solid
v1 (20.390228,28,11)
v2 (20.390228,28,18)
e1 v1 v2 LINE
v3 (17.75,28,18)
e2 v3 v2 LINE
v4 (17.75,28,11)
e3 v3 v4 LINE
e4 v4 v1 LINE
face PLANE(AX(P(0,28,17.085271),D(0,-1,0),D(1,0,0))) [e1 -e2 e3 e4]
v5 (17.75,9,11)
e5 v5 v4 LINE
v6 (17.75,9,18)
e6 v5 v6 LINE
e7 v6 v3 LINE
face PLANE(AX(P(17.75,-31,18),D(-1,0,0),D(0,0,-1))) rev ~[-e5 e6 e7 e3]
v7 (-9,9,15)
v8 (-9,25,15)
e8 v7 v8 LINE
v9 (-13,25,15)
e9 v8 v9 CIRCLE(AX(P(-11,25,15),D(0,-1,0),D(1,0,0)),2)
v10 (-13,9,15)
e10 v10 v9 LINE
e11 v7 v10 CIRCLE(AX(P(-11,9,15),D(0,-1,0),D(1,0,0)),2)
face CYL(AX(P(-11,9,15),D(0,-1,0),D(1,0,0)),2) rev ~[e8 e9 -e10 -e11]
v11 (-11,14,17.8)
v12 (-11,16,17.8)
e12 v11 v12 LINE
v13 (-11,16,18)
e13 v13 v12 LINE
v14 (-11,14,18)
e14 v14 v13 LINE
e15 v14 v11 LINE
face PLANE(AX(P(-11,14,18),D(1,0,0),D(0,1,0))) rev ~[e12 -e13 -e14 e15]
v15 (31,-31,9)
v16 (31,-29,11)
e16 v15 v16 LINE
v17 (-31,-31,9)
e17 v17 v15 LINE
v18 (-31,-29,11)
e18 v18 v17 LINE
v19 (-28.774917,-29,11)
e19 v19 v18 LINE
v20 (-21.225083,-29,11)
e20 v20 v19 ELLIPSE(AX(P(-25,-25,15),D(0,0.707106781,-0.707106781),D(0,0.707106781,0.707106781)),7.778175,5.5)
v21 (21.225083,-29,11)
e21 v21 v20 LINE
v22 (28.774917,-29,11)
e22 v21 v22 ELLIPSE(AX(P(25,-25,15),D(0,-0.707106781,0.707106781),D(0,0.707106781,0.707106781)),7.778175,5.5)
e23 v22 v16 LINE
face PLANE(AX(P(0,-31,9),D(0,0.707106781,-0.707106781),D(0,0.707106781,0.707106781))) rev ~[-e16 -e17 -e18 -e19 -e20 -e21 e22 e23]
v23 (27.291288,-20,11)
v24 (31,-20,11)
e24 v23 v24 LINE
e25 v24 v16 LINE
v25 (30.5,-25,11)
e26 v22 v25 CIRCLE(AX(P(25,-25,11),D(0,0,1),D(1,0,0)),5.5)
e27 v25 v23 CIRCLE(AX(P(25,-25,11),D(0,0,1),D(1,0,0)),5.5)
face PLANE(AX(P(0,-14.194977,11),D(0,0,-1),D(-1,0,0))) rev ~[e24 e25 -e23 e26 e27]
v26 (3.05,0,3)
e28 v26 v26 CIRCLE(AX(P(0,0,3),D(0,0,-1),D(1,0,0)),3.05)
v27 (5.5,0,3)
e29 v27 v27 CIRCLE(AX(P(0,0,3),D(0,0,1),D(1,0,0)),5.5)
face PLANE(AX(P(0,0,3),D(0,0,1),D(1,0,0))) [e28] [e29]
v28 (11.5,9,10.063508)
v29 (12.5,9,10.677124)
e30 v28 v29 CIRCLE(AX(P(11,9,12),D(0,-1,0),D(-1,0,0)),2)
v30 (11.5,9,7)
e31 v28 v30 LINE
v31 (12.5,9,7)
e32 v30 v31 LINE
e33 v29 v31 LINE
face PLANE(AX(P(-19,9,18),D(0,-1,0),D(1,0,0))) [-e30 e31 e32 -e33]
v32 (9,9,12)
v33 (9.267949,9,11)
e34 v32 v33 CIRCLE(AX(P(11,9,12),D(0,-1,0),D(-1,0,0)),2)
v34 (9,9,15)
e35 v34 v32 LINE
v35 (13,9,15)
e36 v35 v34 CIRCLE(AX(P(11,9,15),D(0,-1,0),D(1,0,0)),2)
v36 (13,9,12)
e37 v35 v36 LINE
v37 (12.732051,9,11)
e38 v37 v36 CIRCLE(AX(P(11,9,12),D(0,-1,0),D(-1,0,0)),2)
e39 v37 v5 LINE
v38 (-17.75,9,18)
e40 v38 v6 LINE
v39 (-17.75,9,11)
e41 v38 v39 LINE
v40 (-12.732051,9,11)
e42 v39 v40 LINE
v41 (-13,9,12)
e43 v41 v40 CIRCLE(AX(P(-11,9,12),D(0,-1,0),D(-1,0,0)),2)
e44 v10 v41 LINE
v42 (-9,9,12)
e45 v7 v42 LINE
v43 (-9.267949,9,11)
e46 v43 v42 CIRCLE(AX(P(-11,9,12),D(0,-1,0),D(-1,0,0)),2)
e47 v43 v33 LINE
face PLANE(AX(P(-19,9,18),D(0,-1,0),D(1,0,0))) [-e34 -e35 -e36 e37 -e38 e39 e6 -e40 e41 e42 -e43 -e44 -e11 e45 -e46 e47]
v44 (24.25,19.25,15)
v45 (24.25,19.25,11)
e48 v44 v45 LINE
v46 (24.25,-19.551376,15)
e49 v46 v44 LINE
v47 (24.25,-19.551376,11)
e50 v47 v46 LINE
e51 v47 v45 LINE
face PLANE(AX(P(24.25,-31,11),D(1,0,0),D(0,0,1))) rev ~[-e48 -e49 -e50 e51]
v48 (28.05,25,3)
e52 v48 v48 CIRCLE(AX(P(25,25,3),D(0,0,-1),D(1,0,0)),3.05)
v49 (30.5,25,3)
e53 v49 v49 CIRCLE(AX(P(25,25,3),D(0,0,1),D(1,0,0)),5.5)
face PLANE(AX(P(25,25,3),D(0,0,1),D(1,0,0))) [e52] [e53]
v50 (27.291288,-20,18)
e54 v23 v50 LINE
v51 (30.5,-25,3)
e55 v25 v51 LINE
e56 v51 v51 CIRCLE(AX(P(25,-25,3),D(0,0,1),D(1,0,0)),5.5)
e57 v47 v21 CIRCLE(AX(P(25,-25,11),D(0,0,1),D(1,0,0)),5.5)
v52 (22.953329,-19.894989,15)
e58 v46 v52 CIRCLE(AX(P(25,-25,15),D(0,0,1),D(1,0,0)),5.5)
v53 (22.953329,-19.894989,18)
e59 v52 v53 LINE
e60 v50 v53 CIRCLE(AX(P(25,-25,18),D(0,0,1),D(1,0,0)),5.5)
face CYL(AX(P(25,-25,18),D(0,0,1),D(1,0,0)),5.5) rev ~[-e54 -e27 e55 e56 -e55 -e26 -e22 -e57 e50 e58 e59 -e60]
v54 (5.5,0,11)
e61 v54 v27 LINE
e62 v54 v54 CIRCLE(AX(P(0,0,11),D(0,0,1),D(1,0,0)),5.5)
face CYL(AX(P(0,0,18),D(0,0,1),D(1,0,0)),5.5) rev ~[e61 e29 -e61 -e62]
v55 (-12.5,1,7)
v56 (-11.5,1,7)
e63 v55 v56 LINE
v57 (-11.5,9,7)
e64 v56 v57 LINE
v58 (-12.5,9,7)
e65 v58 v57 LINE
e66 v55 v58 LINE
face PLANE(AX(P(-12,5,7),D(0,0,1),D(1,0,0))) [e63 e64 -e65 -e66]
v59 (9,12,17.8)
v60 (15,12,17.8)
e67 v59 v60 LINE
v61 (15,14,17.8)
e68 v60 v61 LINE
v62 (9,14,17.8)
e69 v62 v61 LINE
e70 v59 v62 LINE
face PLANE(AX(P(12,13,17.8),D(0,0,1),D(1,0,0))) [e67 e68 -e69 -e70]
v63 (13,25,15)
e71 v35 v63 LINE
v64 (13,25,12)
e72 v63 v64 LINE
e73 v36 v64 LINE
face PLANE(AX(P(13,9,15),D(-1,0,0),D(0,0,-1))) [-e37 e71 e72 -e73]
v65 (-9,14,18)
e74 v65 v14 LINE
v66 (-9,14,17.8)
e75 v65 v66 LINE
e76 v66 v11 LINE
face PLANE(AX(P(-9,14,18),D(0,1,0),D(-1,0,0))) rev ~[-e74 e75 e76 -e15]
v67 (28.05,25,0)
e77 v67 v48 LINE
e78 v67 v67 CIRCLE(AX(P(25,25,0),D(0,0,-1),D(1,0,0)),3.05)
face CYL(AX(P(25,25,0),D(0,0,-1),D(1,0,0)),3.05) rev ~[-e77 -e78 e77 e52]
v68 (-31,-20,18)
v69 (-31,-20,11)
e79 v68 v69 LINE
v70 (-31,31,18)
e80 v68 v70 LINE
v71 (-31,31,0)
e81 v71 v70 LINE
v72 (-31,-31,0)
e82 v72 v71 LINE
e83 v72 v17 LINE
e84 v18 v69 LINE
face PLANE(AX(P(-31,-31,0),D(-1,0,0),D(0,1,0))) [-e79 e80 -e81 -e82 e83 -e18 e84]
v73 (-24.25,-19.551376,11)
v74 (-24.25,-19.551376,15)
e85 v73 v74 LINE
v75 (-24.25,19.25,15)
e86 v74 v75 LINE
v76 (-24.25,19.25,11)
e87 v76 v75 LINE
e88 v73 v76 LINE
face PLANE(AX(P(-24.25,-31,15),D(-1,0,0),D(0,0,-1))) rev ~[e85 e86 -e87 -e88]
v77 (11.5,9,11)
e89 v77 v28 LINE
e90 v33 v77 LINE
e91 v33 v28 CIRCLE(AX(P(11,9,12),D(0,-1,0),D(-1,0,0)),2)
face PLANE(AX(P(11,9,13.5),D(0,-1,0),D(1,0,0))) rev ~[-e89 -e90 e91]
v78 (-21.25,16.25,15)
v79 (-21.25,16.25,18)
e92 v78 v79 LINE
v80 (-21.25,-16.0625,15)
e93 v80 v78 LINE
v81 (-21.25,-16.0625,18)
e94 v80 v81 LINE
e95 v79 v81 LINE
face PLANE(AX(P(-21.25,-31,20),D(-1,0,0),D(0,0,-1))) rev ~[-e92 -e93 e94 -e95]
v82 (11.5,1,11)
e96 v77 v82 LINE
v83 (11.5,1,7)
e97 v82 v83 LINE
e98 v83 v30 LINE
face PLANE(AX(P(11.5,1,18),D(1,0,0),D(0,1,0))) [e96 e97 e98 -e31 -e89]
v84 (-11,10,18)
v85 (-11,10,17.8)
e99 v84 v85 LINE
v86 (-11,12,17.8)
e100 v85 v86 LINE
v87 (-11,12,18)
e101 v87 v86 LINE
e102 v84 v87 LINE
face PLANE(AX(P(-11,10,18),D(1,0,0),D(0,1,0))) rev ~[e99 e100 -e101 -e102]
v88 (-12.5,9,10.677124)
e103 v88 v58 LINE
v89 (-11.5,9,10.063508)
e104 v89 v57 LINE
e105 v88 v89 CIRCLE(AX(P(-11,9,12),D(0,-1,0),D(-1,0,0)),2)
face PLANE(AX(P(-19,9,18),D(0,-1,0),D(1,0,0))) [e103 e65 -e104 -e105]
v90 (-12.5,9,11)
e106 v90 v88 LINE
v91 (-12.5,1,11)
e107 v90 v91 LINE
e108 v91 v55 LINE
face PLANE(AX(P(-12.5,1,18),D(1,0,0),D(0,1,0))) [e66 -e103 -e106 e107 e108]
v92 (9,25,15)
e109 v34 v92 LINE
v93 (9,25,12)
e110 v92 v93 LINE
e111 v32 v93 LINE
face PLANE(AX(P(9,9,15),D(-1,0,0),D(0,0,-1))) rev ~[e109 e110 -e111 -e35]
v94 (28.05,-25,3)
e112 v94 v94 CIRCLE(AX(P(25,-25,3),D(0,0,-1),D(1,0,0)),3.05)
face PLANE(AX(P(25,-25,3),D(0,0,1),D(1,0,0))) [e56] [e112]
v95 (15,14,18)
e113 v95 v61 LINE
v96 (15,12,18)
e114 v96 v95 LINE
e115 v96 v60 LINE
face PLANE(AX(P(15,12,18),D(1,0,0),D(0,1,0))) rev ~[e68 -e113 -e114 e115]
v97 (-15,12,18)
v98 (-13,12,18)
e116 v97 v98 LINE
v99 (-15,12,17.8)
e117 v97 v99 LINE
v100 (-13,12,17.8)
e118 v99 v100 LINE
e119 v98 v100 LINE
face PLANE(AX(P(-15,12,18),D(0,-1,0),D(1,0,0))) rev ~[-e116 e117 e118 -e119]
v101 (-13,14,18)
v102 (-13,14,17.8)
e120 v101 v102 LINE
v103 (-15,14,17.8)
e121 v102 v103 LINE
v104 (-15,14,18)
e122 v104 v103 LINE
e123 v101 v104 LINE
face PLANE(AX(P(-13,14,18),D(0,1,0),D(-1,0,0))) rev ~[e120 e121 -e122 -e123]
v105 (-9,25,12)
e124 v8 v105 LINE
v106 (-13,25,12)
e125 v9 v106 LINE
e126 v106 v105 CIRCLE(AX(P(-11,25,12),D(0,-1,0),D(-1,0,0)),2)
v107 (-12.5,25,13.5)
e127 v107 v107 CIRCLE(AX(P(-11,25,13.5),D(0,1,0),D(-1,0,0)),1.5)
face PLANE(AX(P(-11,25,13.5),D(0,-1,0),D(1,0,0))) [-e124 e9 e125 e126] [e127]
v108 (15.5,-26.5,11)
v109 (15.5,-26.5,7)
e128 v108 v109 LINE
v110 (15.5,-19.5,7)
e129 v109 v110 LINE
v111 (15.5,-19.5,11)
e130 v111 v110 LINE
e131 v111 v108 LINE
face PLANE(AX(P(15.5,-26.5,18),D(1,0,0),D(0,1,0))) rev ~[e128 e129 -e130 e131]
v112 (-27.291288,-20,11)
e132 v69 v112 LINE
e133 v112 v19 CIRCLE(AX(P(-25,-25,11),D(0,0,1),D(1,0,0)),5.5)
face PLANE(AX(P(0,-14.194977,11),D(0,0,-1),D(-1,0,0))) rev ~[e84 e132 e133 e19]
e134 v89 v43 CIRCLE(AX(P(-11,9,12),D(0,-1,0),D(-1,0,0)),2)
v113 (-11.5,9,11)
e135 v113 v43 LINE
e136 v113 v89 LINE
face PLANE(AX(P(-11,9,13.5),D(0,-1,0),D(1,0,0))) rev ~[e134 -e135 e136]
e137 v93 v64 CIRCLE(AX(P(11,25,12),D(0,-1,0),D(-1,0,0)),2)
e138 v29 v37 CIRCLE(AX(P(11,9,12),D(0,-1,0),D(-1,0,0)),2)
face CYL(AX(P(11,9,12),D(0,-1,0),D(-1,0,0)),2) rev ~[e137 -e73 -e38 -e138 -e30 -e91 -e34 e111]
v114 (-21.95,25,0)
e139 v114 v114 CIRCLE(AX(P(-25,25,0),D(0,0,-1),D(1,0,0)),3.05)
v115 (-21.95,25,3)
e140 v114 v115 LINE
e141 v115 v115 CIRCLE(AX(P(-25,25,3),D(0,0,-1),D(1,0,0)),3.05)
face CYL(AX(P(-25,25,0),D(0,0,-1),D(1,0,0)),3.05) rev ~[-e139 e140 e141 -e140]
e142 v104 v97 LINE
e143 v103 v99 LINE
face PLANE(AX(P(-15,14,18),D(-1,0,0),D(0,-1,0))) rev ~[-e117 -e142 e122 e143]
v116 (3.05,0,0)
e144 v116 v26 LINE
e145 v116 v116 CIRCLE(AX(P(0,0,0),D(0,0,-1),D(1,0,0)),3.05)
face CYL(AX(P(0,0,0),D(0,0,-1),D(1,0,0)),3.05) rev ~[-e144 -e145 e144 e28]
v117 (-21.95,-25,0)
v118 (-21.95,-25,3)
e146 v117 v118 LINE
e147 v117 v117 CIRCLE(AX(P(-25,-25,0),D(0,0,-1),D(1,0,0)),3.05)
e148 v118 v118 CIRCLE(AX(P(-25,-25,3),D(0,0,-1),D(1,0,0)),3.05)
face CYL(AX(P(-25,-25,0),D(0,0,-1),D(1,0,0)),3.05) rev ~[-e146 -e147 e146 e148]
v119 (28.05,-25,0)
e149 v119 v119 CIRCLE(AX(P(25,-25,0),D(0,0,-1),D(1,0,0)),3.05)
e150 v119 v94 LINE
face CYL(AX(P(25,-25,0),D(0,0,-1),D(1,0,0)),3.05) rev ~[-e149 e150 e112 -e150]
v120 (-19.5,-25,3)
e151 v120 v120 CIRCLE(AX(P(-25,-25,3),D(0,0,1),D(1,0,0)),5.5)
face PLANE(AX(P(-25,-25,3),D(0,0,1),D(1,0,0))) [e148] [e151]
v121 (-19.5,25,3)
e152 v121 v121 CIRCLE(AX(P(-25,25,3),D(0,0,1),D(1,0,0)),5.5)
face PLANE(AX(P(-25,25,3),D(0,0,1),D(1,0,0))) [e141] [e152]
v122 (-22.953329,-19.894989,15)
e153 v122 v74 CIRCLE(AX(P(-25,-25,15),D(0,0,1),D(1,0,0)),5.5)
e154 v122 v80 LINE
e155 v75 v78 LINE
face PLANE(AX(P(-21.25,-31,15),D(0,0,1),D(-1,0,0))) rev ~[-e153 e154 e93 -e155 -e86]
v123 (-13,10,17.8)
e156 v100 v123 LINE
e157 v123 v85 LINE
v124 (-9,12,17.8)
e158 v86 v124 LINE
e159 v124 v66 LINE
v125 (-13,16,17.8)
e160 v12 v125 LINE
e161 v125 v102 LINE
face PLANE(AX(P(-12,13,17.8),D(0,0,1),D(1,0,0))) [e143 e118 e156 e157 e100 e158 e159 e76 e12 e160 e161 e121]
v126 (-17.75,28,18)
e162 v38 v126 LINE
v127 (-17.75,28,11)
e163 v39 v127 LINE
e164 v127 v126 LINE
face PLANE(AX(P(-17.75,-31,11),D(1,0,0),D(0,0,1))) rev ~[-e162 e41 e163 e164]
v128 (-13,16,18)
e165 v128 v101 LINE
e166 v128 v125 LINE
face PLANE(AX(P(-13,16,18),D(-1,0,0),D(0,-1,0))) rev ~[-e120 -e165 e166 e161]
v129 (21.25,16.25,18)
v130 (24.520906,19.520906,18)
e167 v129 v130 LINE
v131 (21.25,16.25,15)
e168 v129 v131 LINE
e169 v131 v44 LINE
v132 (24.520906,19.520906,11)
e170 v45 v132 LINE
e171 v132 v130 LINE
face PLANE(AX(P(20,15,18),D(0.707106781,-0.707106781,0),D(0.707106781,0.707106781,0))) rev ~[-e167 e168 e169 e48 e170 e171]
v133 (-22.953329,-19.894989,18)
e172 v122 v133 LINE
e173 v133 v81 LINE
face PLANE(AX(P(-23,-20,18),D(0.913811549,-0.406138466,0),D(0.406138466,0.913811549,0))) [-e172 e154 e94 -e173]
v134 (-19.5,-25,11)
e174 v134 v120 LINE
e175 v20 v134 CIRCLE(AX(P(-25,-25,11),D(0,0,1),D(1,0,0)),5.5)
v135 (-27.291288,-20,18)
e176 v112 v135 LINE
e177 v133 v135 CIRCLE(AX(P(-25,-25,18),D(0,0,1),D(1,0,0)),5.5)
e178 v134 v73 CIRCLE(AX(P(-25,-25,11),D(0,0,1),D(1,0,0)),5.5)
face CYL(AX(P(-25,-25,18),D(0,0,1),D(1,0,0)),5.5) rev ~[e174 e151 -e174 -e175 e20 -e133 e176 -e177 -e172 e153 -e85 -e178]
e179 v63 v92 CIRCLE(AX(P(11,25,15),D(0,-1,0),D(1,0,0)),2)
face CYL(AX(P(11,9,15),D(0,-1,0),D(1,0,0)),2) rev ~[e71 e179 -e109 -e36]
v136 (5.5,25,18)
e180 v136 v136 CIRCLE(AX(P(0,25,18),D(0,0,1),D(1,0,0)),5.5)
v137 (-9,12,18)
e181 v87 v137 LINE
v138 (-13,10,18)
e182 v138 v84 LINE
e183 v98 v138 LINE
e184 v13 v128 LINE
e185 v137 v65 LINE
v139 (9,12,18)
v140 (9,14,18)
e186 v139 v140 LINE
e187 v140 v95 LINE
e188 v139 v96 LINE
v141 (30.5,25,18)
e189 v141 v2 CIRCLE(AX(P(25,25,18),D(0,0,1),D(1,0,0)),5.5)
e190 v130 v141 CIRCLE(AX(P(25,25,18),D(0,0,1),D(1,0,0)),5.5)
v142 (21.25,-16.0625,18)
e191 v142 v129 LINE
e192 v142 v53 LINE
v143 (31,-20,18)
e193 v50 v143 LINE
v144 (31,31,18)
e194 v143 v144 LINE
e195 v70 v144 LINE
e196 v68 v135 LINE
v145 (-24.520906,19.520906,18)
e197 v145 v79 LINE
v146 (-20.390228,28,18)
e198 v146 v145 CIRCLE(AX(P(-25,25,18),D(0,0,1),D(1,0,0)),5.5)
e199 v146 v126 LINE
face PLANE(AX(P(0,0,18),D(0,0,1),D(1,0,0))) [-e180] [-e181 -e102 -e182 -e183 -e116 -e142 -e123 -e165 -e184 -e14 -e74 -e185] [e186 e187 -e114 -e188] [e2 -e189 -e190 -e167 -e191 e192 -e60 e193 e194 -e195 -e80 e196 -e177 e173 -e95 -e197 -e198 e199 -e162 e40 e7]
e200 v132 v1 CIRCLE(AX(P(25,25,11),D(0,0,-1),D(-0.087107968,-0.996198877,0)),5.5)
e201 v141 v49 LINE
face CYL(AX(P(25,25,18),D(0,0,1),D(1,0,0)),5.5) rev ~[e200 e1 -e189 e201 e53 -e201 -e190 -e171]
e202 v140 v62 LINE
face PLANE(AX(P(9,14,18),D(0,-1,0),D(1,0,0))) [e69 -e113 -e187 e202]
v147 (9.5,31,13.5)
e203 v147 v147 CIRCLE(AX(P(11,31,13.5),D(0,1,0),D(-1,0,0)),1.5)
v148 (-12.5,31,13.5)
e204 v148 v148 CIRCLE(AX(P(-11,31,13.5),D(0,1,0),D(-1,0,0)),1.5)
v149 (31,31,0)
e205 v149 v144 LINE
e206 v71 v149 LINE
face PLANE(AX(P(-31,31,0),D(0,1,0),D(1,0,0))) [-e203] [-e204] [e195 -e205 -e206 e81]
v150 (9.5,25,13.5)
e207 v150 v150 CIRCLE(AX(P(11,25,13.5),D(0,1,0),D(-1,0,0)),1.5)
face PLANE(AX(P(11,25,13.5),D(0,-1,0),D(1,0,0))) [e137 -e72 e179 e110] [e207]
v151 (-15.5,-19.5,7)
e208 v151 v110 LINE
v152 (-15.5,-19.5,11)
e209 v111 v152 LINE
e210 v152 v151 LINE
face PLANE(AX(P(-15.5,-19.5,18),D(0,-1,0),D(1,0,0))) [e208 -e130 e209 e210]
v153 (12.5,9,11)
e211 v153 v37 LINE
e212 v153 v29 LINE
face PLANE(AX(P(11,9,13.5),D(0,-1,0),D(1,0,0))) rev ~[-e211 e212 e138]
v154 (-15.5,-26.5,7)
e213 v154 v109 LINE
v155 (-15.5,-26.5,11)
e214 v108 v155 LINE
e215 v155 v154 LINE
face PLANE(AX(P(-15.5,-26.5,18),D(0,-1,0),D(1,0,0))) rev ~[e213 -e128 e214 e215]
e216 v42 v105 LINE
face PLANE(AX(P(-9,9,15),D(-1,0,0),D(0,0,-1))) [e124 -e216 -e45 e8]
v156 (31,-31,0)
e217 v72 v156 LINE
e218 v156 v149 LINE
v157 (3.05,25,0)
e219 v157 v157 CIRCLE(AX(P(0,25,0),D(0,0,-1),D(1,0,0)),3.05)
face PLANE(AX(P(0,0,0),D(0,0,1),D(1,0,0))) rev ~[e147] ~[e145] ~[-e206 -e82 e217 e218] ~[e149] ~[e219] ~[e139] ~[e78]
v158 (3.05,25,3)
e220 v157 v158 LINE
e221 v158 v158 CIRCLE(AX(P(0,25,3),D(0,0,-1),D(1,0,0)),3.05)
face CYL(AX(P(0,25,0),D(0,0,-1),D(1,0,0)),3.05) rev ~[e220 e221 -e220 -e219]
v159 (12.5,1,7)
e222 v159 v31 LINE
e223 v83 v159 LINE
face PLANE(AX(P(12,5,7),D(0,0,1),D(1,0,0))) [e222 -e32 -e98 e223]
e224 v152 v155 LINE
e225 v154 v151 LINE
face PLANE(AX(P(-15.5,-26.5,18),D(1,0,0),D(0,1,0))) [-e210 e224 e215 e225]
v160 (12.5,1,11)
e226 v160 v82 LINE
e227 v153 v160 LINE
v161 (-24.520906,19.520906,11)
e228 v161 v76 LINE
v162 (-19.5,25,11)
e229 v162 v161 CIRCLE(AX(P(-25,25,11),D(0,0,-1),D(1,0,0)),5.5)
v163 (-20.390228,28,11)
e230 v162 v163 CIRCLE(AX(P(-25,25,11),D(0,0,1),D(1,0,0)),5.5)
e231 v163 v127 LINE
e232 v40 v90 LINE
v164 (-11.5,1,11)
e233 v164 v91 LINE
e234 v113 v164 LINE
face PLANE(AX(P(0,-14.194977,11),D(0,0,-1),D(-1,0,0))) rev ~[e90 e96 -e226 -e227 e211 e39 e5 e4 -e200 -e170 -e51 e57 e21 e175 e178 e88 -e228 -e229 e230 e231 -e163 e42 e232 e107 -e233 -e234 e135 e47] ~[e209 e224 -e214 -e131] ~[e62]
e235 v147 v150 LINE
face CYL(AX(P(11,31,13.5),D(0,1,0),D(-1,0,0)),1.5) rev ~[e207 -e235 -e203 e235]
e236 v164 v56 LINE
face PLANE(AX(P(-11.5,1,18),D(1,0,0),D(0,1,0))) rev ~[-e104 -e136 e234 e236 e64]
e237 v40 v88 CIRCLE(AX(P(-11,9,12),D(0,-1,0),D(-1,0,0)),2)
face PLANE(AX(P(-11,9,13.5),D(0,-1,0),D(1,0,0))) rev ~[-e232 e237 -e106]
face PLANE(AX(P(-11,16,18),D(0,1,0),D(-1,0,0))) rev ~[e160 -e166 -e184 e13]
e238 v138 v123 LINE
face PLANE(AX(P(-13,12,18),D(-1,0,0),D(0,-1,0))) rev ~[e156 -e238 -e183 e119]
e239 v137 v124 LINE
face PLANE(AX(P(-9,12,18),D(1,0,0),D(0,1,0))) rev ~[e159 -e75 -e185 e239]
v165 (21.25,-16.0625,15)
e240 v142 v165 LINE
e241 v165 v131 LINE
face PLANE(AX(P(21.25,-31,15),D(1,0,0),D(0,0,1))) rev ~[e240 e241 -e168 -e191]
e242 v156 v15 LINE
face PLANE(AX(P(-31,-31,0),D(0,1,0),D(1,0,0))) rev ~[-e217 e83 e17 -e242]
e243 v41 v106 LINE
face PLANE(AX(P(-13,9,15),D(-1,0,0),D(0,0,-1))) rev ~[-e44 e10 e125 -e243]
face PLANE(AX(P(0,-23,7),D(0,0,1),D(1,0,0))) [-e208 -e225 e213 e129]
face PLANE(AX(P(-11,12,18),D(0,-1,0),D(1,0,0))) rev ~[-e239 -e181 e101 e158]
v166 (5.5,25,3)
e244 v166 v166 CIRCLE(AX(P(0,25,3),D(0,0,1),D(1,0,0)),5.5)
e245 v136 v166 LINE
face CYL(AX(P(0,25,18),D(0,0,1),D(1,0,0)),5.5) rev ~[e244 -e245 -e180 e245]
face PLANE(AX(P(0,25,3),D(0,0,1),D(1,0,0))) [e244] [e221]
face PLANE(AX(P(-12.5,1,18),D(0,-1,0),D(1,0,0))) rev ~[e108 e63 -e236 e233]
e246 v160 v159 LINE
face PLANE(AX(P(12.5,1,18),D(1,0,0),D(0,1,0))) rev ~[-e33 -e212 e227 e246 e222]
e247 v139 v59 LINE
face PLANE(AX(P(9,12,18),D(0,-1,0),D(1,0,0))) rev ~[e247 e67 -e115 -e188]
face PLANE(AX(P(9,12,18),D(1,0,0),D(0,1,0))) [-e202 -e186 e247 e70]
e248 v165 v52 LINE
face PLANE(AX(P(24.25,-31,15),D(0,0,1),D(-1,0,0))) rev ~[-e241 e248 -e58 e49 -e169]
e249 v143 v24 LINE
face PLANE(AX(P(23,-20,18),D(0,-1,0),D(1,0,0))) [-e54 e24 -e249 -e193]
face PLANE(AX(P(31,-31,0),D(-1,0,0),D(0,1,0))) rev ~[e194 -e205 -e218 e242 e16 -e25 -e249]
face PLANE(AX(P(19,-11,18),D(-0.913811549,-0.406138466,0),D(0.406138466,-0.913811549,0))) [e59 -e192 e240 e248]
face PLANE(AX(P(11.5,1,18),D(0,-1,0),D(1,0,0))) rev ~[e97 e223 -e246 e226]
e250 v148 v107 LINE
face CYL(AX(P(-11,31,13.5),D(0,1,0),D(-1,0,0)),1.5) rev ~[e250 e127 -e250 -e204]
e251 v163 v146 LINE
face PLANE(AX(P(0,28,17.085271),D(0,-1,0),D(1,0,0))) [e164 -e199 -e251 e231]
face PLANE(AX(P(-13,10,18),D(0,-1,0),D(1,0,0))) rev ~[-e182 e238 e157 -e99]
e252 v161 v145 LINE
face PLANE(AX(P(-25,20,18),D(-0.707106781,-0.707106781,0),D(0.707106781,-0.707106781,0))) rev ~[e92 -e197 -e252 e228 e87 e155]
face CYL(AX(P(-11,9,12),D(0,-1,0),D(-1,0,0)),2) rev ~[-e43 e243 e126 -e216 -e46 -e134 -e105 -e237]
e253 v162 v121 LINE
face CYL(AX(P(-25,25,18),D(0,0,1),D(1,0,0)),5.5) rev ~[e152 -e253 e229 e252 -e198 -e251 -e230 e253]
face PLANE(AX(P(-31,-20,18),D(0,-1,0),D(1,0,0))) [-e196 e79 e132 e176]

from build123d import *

# Parameters (mm, degrees)
SKETCH072_W          = 62
SKETCH072_H          = 62
PAD012_DEPTH         = 18
SKETCH073_R          = 3.05
POCKET058_DEPTH      = 18.001
POCKET059_DEPTH      = 59
POCKET060_DEPTH      = 7
SKETCH077_R          = 1.5
POCKET062_DEPTH      = 22
SKETCH078_R          = 5.5
POCKET063_DEPTH      = 15
SKETCH076_W          = 31
SKETCH076_H          = 7
SKETCH076_W_2        = 1
SKETCH076_H_2        = 8
POCKET065_DEPTH      = 11
POCKET_DEPTH         = 7
POCKET068_DEPTH      = 31.001
POCKET068_DEPTH_BACK = -31.001
POCKET069_DEPTH      = 16
SKETCH_W             = 6
SKETCH_H             = 2
POCKET070_DEPTH      = 0.2


with BuildPart() as part:
    # Sketch072 → Pad012 (new body)
    with BuildSketch(Plane.XY):
        Rectangle(SKETCH072_W, SKETCH072_H)
    extrude(amount=PAD012_DEPTH)

    # Sketch073 (on Face5 of Pad012) → Pocket058 (cut, through all)
    with BuildSketch(Plane(origin=(0, 0, 0), x_dir=(1, 0, 0), z_dir=(0, 0, -1))):
        with Locations((-25, 25)):
            Circle(SKETCH073_R)
        with Locations((25, 25)):
            Circle(SKETCH073_R)
        with Locations((-25, -25)):
            Circle(SKETCH073_R)
        with Locations((25, -25)):
            Circle(SKETCH073_R)
        Circle(SKETCH073_R)
        with Locations((0, -25)):
            Circle(SKETCH073_R)
    extrude(amount=-POCKET058_DEPTH, mode=Mode.SUBTRACT)

    # Sketch074 (on Face2 of Pocket058) → Pocket059 (cut)
    with BuildSketch(Plane.XZ.offset(31)):
        Polygon((-21.25, 20), (-21.25, 15), (-24.25, 15), (-24.25, 11), (-17.75, 11), (-17.75, 18), (17.75, 18), (17.75, 11), (24.25, 11), (24.25, 15), (21.25, 15), (21.25, 20), align=None)
    extrude(amount=-POCKET059_DEPTH, mode=Mode.SUBTRACT)

    # Sketch075 (on Face5 of Pocket059) → Pocket060 (cut)
    with BuildSketch(Plane.XY.offset(18)):
        Polygon((-19, -11), (-19, 9), (19, 9), (19, -11), (23, -20), (31, -20), (31, -31), (-31, -31), (-31, -20), (-23, -20), align=None)
    extrude(amount=-POCKET060_DEPTH, mode=Mode.SUBTRACT)

    # Sketch077 → Pocket062 (cut)
    with BuildSketch(Plane(origin=(0, 31, 0), x_dir=(-1, 0, 0), z_dir=(0, 1, 0))):
        with Locations((-11, 13.5)):
            Circle(SKETCH077_R)
        with Locations((11, 13.5)):
            Circle(SKETCH077_R)
    extrude(amount=-POCKET062_DEPTH, mode=Mode.SUBTRACT)

    # Sketch078 (on Face4 of Pocket062) → Pocket063 (cut)
    with BuildSketch(Plane.XY.offset(18)):
        with Locations((-25, 25)):
            Circle(SKETCH078_R)
        with Locations((-25, -25)):
            Circle(SKETCH078_R)
        with Locations((25, 25)):
            Circle(SKETCH078_R)
        with Locations((25, -25)):
            Circle(SKETCH078_R)
        Circle(SKETCH078_R)
        with Locations((0, 25)):
            Circle(SKETCH078_R)
    extrude(amount=-POCKET063_DEPTH, mode=Mode.SUBTRACT)

    # Sketch076 (on Face4 of Pocket060) → Pocket065 (cut)
    with BuildSketch(Plane.XY.offset(18)):
        with Locations((0, -23)):
            Rectangle(SKETCH076_W, SKETCH076_H)
        with Locations((-12, 5)):
            Rectangle(SKETCH076_W_2, SKETCH076_H_2)
        with Locations((12, 5)):
            Rectangle(SKETCH076_W_2, SKETCH076_H_2)
    extrude(amount=-POCKET065_DEPTH, mode=Mode.SUBTRACT)

    # Sketch079 → Pocket (cut)
    with BuildSketch(Plane.XY.offset(18)):
        Polygon((-25, 20), (-20, 15), (-20, 25), align=None)
        Polygon((20, 25), (20, 15), (25, 20), align=None)
    extrude(amount=-POCKET_DEPTH, mode=Mode.SUBTRACT)

    # Sketch080 → Pocket068 (cut, two sides)
    with BuildSketch(Plane.YZ) as pocket068_sk:
        Polygon((-31, 11), (-31, 9), (-29, 11), align=None)
    extrude(amount=-POCKET068_DEPTH, mode=Mode.SUBTRACT)
    extrude(pocket068_sk.sketch, amount=-POCKET068_DEPTH_BACK, mode=Mode.SUBTRACT)

    # Sketch081 (on Face44 of Pocket068) → Pocket069 (cut)
    with BuildSketch(Plane.XZ.offset(-9)):
        with BuildLine():
            ThreePointArc((-9, 15), (-11, 17), (-13, 15))
            Line((-13, 15), (-13, 12))
            ThreePointArc((-13, 12), (-11, 10), (-9, 12))
            Line((-9, 15), (-9, 12))
        make_face()
        with BuildLine():
            ThreePointArc((13, 15), (11, 17), (9, 15))
            Line((9, 15), (9, 12))
            ThreePointArc((9, 12), (11, 10), (13, 12))
            Line((13, 15), (13, 12))
        make_face()
    extrude(amount=-POCKET069_DEPTH, mode=Mode.SUBTRACT)

    # Sketch (on Face22 of Pocket069) → Pocket070 (cut)
    with BuildSketch(Plane.XY.offset(18)):
        Polygon((-11, 16), (-13, 16), (-13, 14), (-15, 14), (-15, 12), (-13, 12), (-13, 10), (-11, 10), (-11, 12), (-9, 12), (-9, 14), (-11, 14), align=None)
        with Locations((12, 13)):
            Rectangle(SKETCH_W, SKETCH_H)
    extrude(amount=-POCKET070_DEPTH, mode=Mode.SUBTRACT)


solid = part.part
